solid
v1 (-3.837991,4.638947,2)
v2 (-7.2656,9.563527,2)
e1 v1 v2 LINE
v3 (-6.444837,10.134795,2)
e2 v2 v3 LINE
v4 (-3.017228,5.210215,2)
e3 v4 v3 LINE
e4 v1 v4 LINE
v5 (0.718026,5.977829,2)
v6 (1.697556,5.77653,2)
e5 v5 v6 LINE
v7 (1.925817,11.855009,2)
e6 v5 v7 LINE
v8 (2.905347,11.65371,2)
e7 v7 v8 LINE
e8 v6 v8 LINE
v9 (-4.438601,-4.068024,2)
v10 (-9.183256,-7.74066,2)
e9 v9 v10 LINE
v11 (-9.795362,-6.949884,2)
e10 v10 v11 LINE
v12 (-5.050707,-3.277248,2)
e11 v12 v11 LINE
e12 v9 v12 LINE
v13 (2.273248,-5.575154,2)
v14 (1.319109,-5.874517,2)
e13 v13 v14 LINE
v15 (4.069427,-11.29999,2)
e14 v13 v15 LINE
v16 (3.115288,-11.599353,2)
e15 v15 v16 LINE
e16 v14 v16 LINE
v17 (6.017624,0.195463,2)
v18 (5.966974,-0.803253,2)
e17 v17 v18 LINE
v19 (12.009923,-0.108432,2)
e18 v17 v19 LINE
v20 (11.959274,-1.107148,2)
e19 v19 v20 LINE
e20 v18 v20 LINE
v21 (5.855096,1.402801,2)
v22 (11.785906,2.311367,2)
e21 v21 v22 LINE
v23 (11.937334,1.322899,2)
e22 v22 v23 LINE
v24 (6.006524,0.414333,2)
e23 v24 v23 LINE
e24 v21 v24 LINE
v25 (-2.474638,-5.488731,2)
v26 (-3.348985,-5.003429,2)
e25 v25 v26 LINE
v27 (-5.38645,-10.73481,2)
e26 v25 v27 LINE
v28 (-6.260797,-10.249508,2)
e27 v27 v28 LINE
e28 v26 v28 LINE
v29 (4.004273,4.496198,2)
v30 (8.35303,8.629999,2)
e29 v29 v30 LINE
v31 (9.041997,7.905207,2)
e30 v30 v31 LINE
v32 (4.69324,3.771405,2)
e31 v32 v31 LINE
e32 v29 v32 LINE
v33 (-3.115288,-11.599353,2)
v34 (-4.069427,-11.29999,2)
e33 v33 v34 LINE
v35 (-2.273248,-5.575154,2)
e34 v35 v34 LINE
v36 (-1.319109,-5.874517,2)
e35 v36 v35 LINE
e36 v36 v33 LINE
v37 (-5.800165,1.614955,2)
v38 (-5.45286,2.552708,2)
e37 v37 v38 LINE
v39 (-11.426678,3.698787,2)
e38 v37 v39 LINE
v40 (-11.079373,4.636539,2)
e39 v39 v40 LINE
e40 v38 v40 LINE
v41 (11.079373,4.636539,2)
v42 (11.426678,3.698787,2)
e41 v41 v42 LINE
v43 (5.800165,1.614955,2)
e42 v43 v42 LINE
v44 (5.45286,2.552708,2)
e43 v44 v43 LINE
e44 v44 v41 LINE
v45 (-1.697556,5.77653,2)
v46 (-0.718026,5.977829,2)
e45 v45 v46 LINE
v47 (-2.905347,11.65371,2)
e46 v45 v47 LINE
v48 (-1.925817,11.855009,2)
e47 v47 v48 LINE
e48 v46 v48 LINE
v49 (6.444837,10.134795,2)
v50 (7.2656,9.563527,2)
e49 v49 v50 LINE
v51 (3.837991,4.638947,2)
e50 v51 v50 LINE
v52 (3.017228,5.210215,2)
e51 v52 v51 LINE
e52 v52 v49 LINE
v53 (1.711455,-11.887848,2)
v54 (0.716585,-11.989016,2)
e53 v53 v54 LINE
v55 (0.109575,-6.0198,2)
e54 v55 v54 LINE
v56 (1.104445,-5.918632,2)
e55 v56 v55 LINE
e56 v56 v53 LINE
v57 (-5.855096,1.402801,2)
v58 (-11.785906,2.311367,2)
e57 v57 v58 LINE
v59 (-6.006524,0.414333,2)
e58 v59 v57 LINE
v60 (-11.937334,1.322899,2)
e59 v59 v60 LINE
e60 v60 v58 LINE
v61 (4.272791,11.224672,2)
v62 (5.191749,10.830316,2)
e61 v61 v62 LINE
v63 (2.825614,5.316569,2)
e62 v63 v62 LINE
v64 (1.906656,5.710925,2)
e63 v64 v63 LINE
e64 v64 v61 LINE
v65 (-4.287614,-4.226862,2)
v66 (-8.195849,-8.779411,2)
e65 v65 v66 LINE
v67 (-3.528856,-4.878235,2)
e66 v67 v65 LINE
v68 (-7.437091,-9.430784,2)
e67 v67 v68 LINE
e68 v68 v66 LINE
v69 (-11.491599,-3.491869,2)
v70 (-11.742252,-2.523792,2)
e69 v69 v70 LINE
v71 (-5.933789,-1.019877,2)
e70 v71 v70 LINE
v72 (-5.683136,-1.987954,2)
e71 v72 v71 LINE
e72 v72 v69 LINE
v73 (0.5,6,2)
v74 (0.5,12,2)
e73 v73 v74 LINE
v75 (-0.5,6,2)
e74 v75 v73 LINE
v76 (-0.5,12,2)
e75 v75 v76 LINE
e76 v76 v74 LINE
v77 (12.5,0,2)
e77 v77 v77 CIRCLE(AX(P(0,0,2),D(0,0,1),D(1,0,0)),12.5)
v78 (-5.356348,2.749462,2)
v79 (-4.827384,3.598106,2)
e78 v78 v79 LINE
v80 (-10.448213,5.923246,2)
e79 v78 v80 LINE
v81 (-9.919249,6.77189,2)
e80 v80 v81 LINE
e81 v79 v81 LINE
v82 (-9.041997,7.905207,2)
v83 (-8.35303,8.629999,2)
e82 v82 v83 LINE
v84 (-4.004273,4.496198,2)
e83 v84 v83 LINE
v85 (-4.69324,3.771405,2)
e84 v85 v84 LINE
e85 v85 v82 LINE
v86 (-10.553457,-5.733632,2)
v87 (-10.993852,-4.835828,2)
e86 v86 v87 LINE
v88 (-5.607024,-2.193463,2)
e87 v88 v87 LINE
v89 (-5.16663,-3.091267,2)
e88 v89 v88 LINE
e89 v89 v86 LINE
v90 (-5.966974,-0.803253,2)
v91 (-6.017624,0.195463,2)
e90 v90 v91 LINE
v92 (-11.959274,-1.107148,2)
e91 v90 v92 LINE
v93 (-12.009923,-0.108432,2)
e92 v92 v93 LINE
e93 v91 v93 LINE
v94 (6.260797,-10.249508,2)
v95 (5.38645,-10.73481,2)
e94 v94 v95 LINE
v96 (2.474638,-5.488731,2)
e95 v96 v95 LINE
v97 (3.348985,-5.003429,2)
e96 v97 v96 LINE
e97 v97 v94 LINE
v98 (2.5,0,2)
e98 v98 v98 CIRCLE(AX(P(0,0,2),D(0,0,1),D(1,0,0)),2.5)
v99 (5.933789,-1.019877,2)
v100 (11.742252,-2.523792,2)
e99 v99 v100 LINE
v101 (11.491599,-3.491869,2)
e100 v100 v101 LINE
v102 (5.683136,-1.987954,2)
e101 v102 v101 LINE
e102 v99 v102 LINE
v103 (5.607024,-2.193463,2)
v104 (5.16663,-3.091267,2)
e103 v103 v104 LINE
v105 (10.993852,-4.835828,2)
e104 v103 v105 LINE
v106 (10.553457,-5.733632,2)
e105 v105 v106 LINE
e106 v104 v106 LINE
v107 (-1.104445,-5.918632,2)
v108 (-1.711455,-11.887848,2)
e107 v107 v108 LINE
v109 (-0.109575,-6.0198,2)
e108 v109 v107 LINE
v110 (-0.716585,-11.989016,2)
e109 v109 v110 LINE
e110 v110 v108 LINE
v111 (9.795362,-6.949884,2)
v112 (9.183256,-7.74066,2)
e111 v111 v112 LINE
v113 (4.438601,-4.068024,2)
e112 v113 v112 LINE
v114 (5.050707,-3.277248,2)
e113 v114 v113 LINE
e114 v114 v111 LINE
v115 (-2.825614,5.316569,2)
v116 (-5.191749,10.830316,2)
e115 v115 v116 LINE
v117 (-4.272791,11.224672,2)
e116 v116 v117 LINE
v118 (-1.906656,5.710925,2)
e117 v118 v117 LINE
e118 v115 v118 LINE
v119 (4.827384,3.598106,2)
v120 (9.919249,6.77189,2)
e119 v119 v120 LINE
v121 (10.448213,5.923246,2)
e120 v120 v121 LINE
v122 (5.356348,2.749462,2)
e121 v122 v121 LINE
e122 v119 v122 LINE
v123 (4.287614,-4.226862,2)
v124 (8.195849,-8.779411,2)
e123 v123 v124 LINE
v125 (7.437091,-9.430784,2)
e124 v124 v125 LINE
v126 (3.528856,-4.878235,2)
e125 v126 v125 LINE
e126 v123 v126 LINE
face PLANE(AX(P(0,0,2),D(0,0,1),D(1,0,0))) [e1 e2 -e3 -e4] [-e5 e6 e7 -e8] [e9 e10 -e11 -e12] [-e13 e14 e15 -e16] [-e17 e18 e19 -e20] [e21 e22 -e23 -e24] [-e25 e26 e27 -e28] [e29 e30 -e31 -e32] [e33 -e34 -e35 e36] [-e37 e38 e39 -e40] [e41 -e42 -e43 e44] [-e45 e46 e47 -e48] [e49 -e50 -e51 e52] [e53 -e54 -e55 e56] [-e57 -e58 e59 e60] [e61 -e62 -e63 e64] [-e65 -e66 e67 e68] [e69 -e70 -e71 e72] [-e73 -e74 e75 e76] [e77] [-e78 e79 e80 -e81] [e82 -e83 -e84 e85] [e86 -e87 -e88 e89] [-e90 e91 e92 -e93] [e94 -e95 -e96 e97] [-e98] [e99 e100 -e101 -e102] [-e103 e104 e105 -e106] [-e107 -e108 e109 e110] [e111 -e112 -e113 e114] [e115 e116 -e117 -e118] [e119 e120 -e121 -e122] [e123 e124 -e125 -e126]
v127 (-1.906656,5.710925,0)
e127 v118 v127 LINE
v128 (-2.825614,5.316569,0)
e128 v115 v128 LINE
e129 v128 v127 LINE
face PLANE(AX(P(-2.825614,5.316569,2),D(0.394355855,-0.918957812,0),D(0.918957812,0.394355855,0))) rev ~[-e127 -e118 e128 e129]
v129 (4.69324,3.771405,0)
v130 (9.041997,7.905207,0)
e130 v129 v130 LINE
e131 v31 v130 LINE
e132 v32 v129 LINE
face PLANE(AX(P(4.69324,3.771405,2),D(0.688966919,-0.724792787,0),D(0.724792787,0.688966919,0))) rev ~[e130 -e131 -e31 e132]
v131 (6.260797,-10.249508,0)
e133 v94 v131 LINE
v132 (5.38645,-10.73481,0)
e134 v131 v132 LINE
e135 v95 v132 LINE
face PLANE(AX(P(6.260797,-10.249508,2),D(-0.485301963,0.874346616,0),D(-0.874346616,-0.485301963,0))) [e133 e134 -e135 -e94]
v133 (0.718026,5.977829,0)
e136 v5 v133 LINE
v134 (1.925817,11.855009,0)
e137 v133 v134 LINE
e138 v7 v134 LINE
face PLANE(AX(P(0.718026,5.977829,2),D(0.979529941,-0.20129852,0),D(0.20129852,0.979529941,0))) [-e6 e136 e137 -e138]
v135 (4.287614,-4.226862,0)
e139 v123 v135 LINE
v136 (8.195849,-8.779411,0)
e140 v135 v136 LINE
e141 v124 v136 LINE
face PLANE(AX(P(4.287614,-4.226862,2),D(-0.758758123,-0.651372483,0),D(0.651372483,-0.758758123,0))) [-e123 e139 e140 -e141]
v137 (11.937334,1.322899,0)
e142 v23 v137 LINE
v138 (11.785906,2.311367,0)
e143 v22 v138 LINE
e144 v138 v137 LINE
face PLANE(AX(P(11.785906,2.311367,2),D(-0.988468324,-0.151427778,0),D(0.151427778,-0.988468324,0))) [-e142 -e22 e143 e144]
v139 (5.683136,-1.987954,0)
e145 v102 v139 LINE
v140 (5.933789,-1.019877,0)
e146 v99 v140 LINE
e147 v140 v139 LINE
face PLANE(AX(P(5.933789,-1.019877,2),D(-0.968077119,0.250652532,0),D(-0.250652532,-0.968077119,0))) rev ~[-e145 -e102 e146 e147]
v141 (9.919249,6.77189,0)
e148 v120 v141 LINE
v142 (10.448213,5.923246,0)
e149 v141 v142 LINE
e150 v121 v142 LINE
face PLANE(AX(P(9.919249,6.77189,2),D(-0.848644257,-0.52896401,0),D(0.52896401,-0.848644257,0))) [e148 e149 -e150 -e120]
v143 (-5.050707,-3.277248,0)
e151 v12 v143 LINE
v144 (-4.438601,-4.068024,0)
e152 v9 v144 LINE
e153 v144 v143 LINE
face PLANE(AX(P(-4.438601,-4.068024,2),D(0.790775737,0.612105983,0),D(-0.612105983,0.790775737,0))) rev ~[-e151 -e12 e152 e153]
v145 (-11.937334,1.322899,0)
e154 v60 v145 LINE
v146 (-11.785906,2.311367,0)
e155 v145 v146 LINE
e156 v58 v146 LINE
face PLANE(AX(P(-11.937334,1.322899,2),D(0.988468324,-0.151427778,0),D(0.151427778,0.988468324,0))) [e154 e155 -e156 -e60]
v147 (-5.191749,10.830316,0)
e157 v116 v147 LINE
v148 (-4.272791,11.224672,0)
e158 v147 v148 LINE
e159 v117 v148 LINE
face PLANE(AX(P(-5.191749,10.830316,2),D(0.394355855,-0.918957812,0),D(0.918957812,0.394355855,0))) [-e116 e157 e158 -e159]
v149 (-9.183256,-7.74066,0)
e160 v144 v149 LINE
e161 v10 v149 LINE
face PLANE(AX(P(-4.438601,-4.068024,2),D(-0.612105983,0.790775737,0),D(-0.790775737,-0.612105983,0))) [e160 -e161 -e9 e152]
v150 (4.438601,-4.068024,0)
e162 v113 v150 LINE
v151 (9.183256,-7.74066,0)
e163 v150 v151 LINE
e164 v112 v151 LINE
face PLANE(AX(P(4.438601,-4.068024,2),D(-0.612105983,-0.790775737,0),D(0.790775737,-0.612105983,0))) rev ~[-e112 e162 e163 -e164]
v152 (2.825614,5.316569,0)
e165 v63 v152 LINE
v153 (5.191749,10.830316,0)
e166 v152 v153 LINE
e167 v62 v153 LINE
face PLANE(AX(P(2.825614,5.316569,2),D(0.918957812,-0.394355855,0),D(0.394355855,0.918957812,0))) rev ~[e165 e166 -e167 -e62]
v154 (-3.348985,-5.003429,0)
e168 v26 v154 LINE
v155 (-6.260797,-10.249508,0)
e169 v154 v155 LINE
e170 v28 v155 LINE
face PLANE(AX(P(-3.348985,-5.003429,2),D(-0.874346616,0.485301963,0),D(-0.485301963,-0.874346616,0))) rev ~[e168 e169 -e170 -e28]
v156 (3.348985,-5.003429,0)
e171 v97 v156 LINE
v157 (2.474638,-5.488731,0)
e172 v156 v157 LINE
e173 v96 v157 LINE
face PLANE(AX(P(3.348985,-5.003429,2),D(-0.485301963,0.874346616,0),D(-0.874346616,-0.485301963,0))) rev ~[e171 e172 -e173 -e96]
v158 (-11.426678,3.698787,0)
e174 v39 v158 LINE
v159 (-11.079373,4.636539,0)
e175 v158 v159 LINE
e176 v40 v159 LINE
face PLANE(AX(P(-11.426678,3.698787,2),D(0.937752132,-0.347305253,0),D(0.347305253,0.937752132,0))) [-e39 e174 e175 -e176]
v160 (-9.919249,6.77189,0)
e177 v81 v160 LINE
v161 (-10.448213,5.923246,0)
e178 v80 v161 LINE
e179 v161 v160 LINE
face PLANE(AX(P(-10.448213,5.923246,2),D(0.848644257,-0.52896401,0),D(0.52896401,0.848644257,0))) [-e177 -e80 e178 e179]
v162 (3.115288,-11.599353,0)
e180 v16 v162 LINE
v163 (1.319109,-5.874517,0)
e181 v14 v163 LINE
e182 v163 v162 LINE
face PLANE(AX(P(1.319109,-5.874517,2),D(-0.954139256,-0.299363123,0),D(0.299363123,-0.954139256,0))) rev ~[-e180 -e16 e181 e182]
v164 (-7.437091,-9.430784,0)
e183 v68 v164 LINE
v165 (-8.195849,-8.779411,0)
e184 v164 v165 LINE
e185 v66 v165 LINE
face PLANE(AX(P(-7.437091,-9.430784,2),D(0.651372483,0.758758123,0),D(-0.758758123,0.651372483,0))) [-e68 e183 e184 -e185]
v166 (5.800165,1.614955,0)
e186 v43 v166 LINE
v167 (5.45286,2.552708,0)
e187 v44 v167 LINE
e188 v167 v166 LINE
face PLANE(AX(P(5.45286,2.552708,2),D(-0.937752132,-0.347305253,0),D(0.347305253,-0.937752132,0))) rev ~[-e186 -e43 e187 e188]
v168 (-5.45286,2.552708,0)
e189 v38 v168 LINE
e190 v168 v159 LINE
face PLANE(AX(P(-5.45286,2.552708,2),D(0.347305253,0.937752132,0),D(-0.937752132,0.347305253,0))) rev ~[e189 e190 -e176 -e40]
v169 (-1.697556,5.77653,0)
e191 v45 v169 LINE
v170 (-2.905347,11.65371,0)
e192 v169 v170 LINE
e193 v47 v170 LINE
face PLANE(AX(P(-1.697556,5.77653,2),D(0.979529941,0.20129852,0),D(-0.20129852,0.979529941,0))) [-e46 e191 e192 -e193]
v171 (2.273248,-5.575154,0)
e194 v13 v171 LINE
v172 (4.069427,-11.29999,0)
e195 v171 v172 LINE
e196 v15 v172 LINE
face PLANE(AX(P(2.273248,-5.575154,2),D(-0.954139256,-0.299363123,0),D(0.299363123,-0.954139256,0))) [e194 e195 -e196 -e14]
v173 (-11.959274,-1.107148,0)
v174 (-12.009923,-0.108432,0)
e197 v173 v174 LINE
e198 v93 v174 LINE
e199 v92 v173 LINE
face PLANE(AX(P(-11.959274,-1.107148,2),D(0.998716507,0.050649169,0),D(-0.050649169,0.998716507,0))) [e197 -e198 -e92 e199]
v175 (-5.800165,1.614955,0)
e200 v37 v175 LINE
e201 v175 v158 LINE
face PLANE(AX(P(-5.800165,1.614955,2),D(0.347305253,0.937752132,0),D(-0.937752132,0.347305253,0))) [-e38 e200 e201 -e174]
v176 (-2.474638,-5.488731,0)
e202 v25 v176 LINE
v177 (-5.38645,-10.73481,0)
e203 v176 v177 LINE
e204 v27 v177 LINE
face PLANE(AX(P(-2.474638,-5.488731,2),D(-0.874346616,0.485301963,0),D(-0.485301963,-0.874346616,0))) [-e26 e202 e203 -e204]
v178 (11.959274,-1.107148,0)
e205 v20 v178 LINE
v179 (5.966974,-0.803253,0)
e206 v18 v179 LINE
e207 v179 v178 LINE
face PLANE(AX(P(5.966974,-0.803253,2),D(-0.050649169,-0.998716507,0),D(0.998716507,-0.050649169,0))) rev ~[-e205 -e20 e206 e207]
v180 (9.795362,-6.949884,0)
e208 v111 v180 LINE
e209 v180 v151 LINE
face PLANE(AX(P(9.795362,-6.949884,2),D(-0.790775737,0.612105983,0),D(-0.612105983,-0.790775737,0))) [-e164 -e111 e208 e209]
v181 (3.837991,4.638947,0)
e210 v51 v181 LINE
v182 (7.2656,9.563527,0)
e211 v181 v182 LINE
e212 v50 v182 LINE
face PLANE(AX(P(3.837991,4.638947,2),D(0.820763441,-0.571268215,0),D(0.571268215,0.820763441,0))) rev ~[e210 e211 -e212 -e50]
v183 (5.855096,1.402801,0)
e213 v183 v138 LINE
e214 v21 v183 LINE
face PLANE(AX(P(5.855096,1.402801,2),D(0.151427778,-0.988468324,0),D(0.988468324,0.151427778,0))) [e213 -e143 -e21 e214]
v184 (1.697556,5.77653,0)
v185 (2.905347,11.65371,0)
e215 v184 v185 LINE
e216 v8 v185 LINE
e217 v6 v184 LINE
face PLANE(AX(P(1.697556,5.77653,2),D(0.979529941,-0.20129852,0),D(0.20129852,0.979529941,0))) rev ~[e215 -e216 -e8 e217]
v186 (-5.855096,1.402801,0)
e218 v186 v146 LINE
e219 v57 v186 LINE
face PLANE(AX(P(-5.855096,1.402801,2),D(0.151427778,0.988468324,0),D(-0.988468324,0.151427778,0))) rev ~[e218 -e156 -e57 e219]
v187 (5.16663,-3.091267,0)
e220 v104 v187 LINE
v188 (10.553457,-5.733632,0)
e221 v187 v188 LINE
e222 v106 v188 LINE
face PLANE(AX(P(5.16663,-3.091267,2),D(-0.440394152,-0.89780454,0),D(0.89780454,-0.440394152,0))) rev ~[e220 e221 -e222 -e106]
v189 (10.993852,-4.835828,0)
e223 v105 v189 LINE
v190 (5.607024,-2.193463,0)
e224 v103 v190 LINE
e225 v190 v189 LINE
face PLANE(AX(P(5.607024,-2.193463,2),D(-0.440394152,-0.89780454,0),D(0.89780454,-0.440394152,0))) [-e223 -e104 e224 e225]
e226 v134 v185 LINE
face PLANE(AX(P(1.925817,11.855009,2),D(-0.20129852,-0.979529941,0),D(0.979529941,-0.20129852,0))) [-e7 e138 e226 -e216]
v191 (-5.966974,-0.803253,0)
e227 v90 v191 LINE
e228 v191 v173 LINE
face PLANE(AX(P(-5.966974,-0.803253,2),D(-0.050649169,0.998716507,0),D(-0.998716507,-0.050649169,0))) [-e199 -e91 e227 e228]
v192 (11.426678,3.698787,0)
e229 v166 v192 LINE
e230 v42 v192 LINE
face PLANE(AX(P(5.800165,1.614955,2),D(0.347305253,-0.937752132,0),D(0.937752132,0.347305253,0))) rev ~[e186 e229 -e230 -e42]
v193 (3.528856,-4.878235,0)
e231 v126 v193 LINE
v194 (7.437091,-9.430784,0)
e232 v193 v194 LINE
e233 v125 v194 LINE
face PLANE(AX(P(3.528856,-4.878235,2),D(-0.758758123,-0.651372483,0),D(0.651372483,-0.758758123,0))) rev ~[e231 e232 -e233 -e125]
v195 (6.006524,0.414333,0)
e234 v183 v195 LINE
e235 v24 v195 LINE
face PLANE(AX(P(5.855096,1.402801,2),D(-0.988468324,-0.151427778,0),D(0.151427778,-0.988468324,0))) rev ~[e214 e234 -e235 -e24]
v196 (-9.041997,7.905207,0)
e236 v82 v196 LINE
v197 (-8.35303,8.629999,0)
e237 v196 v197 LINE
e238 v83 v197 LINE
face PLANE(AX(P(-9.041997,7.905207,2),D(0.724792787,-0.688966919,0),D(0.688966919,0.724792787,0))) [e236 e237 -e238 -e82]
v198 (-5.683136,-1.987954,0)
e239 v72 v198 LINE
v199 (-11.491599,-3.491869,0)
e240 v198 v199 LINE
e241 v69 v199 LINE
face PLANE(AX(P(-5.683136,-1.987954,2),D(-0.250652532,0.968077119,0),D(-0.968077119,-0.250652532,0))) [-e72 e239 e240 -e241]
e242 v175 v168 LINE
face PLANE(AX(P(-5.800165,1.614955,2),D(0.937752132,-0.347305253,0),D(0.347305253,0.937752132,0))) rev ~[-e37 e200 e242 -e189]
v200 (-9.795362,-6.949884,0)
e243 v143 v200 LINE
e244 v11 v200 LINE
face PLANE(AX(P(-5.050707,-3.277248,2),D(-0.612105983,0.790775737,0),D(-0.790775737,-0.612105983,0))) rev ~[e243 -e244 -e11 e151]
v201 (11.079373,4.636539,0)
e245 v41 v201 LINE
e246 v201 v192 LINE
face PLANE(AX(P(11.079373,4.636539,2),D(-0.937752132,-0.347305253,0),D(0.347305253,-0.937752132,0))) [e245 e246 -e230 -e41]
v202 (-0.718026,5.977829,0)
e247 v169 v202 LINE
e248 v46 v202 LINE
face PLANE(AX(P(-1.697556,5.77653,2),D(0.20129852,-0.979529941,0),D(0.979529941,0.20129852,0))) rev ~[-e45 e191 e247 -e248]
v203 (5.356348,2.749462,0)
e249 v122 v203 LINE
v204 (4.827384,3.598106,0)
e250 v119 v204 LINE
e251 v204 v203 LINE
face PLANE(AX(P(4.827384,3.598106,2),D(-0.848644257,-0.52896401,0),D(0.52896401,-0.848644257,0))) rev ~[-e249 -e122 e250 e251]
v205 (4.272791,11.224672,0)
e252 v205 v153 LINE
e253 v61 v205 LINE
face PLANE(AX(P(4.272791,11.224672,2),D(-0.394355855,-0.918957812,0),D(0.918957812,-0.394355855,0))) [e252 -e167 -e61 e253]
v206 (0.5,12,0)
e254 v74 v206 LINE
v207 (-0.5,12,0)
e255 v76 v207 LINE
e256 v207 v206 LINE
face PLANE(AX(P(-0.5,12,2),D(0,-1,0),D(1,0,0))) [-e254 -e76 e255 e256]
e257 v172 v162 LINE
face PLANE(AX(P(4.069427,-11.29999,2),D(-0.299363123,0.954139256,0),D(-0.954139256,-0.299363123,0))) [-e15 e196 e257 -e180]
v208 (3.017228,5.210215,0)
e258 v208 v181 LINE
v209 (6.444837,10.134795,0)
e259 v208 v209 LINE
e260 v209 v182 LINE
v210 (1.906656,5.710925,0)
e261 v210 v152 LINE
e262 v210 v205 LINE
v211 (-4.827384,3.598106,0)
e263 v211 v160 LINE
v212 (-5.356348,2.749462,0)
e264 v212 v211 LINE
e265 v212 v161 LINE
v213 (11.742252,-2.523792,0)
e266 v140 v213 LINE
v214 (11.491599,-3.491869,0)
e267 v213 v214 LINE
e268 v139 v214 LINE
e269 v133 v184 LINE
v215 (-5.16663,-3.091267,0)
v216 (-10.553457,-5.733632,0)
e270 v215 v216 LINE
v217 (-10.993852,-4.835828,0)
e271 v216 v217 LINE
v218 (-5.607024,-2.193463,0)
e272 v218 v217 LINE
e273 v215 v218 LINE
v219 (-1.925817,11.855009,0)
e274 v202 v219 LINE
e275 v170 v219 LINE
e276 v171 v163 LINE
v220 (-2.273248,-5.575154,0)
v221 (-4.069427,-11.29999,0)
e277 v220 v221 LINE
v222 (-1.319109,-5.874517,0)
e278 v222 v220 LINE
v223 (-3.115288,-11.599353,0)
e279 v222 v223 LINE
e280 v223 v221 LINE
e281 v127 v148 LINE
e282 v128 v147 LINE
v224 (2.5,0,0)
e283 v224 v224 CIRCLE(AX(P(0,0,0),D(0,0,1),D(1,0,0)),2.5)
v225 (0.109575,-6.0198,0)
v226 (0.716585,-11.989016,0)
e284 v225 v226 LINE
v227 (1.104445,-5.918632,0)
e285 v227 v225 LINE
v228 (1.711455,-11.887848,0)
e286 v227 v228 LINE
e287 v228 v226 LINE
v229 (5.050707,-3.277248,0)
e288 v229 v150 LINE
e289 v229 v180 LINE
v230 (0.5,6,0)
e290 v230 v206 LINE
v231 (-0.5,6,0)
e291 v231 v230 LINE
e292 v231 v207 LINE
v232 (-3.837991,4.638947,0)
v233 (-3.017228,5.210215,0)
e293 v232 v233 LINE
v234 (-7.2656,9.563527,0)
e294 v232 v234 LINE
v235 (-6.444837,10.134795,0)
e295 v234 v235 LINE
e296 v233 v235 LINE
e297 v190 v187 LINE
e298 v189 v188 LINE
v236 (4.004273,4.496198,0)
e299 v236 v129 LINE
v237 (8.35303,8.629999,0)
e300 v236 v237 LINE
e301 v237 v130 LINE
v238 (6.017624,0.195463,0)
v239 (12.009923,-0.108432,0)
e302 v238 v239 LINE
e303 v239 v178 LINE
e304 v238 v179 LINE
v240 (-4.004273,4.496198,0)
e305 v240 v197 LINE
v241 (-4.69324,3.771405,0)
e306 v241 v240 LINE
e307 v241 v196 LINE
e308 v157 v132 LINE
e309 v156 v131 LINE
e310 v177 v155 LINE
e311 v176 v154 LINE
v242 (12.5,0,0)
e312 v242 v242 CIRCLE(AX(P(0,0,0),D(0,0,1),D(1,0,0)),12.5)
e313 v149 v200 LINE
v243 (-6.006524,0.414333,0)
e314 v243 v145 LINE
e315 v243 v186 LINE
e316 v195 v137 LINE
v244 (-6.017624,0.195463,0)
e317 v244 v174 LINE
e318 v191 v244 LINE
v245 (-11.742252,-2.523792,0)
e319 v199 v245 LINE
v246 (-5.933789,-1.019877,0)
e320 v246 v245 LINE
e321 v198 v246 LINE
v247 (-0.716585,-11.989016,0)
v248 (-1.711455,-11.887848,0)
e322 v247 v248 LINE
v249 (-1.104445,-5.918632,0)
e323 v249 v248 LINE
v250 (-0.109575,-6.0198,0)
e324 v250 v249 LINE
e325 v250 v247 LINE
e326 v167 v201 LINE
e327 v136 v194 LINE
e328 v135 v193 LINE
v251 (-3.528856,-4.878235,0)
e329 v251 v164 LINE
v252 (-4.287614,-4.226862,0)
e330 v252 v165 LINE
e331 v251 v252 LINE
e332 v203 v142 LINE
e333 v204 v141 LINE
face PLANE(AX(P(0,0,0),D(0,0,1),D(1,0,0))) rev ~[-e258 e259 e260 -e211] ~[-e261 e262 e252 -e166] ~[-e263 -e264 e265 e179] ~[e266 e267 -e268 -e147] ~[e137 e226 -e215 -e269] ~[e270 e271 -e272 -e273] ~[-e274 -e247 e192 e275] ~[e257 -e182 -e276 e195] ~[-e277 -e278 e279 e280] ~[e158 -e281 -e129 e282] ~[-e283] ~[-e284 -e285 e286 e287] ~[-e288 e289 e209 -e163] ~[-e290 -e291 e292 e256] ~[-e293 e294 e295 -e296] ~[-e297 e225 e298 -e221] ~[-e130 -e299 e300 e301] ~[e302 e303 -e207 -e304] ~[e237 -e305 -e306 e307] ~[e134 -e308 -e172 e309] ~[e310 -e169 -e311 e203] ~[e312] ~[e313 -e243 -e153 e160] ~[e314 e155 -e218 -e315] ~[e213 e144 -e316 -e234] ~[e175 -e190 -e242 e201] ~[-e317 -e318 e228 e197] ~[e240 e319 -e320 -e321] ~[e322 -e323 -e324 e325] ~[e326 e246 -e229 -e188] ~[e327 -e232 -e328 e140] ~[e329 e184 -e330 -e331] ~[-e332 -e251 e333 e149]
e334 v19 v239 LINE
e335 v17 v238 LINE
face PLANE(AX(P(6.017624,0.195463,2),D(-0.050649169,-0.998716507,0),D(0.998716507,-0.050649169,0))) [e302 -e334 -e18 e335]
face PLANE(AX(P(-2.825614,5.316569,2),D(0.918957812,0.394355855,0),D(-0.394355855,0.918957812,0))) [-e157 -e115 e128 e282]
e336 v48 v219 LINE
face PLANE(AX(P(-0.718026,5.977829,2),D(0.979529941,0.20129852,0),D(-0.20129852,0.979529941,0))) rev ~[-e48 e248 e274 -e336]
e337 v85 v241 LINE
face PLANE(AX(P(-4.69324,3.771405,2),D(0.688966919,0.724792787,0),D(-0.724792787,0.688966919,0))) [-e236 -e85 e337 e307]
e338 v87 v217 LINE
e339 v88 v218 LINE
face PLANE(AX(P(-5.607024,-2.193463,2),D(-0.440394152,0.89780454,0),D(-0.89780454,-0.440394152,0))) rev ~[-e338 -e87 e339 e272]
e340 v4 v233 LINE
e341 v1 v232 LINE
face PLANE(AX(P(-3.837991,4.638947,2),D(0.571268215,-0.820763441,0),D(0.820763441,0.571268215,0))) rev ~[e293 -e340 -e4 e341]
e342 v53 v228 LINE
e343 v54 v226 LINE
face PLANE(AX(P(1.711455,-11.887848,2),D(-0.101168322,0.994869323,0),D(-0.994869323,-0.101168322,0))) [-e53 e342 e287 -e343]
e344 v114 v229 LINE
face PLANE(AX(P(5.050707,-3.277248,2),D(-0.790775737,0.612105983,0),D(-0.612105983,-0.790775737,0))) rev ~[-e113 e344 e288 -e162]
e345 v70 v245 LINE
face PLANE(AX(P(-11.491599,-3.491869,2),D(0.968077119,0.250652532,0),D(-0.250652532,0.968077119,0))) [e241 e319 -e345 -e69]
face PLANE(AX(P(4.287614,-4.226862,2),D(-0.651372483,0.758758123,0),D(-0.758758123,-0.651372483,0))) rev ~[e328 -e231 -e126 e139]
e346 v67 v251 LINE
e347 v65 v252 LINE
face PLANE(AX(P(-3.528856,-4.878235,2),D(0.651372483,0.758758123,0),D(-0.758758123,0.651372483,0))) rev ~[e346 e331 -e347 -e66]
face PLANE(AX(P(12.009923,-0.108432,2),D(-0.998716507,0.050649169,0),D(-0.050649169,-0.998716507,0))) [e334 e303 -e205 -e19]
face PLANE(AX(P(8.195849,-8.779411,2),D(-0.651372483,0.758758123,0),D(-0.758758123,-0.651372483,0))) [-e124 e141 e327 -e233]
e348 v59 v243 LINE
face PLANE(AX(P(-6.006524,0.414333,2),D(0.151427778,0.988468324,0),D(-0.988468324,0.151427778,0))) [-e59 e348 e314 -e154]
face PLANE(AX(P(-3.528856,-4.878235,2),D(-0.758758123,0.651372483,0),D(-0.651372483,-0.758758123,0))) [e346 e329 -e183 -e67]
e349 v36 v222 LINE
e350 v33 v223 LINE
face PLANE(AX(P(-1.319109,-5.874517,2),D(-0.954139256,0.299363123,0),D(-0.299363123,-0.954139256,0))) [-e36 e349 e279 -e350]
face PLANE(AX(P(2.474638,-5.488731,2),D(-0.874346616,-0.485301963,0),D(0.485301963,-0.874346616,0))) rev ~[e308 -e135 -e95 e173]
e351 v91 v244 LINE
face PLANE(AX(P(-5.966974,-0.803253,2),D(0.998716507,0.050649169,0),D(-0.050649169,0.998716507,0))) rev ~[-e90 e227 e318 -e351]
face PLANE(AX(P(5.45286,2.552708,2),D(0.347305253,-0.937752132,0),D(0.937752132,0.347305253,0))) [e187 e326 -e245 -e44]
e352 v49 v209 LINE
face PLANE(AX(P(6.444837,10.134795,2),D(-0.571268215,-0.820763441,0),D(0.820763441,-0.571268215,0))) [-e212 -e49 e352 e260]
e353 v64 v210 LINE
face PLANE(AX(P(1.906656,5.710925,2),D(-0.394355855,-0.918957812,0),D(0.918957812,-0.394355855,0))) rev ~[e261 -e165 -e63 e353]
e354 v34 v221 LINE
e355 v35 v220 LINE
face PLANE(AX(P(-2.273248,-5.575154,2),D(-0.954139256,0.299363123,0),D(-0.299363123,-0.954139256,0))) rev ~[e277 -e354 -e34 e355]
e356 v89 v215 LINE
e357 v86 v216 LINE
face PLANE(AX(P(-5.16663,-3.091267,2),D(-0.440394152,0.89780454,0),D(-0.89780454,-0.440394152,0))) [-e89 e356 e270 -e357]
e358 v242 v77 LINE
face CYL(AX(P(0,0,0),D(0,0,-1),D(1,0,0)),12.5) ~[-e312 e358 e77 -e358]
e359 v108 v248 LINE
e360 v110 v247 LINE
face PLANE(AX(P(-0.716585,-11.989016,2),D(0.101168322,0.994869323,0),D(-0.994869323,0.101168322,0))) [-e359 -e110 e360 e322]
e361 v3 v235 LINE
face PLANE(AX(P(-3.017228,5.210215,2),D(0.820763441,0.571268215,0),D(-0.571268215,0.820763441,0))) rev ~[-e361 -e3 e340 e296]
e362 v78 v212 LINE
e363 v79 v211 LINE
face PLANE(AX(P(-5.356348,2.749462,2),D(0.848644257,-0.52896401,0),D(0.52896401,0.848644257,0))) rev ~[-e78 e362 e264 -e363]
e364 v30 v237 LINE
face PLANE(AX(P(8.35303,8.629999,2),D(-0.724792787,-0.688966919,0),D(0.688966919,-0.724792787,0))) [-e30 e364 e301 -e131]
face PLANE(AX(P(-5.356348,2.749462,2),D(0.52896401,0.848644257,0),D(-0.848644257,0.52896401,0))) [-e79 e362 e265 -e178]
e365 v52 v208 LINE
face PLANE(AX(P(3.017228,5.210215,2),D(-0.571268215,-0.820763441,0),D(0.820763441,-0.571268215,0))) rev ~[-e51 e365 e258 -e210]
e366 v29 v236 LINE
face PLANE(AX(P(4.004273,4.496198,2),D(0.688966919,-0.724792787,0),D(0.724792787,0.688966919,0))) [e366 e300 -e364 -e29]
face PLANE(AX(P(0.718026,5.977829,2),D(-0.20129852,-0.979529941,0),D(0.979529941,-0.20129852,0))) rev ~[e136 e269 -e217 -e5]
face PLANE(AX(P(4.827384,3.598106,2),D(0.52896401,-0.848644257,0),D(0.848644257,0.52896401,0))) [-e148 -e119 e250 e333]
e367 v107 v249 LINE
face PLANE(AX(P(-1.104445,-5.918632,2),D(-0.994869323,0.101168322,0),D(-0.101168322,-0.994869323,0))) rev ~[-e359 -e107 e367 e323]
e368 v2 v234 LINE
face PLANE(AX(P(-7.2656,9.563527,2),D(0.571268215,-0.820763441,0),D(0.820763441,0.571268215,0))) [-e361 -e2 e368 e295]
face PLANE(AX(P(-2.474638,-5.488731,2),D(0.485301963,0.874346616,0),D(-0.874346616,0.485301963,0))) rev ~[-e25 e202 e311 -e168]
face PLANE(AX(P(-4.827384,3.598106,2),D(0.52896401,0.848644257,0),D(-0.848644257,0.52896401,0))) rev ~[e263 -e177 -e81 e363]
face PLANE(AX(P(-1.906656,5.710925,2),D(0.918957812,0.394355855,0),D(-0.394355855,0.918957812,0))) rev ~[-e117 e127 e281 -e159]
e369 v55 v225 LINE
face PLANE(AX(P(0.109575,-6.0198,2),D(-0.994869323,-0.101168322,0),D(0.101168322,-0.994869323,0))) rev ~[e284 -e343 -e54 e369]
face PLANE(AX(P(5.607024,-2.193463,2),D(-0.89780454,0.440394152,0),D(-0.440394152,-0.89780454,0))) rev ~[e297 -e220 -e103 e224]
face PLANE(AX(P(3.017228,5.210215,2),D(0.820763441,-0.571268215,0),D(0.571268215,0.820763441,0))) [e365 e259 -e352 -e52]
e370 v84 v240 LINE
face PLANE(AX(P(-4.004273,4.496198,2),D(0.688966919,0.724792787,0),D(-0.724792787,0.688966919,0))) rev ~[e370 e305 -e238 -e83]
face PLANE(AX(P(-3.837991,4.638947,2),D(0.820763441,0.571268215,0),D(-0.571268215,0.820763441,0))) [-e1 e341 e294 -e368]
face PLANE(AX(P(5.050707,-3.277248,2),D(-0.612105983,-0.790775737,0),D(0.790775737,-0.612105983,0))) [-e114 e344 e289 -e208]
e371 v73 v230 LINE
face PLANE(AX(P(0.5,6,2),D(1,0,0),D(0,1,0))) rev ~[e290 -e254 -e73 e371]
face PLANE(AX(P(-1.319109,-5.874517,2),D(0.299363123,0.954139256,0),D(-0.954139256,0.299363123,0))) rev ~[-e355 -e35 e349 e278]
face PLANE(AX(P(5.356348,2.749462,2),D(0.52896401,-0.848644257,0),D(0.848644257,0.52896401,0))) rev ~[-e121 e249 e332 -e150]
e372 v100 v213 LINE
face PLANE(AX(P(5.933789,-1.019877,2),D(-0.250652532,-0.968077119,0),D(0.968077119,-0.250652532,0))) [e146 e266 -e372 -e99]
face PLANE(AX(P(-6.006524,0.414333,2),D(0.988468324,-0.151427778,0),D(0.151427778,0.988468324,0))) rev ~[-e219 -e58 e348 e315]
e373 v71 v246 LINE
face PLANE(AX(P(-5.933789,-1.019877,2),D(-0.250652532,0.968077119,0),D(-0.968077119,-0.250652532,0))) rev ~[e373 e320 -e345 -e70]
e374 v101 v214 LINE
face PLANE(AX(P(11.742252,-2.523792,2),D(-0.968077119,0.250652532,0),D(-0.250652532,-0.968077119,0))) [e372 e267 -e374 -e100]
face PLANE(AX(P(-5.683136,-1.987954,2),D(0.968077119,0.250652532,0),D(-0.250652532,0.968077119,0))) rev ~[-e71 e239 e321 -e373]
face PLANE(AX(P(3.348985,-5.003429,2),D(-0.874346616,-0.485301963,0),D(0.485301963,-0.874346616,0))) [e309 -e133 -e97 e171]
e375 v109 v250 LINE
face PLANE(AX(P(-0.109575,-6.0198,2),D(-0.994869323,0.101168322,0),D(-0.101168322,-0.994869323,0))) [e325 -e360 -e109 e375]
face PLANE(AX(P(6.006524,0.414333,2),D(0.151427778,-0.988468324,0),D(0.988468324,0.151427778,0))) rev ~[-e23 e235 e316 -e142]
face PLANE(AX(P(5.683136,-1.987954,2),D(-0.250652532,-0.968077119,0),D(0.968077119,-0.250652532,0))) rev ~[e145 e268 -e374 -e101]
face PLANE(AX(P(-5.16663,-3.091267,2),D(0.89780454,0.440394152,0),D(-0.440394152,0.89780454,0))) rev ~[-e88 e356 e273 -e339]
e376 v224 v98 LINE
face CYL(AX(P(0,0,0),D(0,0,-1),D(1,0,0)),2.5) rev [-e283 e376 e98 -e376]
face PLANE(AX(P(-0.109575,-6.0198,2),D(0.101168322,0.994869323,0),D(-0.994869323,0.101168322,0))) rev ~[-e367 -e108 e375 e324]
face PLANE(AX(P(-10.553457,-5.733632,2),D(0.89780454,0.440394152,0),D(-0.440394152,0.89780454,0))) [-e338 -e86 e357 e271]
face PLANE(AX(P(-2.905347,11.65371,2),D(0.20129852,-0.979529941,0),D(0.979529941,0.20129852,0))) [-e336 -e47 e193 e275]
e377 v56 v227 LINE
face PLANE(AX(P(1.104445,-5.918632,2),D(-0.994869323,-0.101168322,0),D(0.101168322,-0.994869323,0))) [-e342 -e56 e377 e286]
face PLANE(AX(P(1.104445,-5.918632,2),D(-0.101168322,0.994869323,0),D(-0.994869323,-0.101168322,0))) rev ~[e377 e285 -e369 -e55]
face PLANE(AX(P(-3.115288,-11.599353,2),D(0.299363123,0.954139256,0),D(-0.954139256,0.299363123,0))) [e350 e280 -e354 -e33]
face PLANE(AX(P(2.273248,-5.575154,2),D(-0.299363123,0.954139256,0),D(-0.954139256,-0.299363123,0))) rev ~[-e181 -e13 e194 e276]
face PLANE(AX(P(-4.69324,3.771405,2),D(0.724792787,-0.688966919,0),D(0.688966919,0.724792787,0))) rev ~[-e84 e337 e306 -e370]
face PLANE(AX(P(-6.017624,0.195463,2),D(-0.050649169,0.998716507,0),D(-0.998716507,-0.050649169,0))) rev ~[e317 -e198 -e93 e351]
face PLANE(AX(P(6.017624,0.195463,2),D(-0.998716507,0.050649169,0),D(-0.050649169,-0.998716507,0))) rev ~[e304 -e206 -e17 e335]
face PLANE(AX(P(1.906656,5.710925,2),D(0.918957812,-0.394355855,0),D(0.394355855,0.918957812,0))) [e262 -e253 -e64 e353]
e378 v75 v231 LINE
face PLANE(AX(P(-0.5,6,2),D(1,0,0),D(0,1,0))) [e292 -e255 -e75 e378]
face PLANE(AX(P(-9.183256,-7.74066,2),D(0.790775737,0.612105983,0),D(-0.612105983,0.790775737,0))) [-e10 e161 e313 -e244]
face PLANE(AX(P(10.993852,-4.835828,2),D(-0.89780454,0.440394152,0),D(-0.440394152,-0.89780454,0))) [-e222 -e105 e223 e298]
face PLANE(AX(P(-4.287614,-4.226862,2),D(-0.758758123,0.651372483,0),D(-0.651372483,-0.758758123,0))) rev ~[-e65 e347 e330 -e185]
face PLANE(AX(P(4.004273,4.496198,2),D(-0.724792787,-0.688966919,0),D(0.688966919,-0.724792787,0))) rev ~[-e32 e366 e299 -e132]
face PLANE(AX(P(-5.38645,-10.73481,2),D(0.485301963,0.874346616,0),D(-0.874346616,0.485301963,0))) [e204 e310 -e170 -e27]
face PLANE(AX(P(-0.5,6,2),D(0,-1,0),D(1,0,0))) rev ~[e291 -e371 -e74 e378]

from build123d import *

# Parameters (mm, degrees)
SKIZZE1_R                       = 12.5
SKIZZE1_R_2                     = 2.5
AUFSATZ_LINEAR_AUSTRAGEN1_DEPTH = 2
SKIZZE2_W                       = 1
SKIZZE2_H                       = 6
SCHNITT_LINEAR_AUSTRAGEN1_DEPTH = 2
KREISMUSTER1_COUNT              = 31


with BuildPart() as part:
    # Skizze1 → Aufsatz-Linear austragen1 (new body)
    with BuildSketch(Plane.XY):
        Circle(SKIZZE1_R)
        Circle(SKIZZE1_R_2, mode=Mode.SUBTRACT)
    extrude(amount=AUFSATZ_LINEAR_AUSTRAGEN1_DEPTH)

    # Skizze2 → Schnitt-Linear austragen1 (cut)
    with BuildSketch(Plane.XY.offset(2)):
        with Locations((0, 9)):
            Rectangle(SKIZZE2_W, SKIZZE2_H)
    schnitt_linear_austragen1 = extrude(amount=-SCHNITT_LINEAR_AUSTRAGEN1_DEPTH, mode=Mode.SUBTRACT)

    # Kreismuster1: Schnitt-Linear austragen1 ×31 about axis
    kreismuster1_axis = Axis((0, 0, 0), (0, 0, 1))
    for i in range(1, KREISMUSTER1_COUNT):
        add(schnitt_linear_austragen1.rotate(kreismuster1_axis, i * 360 / KREISMUSTER1_COUNT), mode=Mode.SUBTRACT)


solid = part.part
